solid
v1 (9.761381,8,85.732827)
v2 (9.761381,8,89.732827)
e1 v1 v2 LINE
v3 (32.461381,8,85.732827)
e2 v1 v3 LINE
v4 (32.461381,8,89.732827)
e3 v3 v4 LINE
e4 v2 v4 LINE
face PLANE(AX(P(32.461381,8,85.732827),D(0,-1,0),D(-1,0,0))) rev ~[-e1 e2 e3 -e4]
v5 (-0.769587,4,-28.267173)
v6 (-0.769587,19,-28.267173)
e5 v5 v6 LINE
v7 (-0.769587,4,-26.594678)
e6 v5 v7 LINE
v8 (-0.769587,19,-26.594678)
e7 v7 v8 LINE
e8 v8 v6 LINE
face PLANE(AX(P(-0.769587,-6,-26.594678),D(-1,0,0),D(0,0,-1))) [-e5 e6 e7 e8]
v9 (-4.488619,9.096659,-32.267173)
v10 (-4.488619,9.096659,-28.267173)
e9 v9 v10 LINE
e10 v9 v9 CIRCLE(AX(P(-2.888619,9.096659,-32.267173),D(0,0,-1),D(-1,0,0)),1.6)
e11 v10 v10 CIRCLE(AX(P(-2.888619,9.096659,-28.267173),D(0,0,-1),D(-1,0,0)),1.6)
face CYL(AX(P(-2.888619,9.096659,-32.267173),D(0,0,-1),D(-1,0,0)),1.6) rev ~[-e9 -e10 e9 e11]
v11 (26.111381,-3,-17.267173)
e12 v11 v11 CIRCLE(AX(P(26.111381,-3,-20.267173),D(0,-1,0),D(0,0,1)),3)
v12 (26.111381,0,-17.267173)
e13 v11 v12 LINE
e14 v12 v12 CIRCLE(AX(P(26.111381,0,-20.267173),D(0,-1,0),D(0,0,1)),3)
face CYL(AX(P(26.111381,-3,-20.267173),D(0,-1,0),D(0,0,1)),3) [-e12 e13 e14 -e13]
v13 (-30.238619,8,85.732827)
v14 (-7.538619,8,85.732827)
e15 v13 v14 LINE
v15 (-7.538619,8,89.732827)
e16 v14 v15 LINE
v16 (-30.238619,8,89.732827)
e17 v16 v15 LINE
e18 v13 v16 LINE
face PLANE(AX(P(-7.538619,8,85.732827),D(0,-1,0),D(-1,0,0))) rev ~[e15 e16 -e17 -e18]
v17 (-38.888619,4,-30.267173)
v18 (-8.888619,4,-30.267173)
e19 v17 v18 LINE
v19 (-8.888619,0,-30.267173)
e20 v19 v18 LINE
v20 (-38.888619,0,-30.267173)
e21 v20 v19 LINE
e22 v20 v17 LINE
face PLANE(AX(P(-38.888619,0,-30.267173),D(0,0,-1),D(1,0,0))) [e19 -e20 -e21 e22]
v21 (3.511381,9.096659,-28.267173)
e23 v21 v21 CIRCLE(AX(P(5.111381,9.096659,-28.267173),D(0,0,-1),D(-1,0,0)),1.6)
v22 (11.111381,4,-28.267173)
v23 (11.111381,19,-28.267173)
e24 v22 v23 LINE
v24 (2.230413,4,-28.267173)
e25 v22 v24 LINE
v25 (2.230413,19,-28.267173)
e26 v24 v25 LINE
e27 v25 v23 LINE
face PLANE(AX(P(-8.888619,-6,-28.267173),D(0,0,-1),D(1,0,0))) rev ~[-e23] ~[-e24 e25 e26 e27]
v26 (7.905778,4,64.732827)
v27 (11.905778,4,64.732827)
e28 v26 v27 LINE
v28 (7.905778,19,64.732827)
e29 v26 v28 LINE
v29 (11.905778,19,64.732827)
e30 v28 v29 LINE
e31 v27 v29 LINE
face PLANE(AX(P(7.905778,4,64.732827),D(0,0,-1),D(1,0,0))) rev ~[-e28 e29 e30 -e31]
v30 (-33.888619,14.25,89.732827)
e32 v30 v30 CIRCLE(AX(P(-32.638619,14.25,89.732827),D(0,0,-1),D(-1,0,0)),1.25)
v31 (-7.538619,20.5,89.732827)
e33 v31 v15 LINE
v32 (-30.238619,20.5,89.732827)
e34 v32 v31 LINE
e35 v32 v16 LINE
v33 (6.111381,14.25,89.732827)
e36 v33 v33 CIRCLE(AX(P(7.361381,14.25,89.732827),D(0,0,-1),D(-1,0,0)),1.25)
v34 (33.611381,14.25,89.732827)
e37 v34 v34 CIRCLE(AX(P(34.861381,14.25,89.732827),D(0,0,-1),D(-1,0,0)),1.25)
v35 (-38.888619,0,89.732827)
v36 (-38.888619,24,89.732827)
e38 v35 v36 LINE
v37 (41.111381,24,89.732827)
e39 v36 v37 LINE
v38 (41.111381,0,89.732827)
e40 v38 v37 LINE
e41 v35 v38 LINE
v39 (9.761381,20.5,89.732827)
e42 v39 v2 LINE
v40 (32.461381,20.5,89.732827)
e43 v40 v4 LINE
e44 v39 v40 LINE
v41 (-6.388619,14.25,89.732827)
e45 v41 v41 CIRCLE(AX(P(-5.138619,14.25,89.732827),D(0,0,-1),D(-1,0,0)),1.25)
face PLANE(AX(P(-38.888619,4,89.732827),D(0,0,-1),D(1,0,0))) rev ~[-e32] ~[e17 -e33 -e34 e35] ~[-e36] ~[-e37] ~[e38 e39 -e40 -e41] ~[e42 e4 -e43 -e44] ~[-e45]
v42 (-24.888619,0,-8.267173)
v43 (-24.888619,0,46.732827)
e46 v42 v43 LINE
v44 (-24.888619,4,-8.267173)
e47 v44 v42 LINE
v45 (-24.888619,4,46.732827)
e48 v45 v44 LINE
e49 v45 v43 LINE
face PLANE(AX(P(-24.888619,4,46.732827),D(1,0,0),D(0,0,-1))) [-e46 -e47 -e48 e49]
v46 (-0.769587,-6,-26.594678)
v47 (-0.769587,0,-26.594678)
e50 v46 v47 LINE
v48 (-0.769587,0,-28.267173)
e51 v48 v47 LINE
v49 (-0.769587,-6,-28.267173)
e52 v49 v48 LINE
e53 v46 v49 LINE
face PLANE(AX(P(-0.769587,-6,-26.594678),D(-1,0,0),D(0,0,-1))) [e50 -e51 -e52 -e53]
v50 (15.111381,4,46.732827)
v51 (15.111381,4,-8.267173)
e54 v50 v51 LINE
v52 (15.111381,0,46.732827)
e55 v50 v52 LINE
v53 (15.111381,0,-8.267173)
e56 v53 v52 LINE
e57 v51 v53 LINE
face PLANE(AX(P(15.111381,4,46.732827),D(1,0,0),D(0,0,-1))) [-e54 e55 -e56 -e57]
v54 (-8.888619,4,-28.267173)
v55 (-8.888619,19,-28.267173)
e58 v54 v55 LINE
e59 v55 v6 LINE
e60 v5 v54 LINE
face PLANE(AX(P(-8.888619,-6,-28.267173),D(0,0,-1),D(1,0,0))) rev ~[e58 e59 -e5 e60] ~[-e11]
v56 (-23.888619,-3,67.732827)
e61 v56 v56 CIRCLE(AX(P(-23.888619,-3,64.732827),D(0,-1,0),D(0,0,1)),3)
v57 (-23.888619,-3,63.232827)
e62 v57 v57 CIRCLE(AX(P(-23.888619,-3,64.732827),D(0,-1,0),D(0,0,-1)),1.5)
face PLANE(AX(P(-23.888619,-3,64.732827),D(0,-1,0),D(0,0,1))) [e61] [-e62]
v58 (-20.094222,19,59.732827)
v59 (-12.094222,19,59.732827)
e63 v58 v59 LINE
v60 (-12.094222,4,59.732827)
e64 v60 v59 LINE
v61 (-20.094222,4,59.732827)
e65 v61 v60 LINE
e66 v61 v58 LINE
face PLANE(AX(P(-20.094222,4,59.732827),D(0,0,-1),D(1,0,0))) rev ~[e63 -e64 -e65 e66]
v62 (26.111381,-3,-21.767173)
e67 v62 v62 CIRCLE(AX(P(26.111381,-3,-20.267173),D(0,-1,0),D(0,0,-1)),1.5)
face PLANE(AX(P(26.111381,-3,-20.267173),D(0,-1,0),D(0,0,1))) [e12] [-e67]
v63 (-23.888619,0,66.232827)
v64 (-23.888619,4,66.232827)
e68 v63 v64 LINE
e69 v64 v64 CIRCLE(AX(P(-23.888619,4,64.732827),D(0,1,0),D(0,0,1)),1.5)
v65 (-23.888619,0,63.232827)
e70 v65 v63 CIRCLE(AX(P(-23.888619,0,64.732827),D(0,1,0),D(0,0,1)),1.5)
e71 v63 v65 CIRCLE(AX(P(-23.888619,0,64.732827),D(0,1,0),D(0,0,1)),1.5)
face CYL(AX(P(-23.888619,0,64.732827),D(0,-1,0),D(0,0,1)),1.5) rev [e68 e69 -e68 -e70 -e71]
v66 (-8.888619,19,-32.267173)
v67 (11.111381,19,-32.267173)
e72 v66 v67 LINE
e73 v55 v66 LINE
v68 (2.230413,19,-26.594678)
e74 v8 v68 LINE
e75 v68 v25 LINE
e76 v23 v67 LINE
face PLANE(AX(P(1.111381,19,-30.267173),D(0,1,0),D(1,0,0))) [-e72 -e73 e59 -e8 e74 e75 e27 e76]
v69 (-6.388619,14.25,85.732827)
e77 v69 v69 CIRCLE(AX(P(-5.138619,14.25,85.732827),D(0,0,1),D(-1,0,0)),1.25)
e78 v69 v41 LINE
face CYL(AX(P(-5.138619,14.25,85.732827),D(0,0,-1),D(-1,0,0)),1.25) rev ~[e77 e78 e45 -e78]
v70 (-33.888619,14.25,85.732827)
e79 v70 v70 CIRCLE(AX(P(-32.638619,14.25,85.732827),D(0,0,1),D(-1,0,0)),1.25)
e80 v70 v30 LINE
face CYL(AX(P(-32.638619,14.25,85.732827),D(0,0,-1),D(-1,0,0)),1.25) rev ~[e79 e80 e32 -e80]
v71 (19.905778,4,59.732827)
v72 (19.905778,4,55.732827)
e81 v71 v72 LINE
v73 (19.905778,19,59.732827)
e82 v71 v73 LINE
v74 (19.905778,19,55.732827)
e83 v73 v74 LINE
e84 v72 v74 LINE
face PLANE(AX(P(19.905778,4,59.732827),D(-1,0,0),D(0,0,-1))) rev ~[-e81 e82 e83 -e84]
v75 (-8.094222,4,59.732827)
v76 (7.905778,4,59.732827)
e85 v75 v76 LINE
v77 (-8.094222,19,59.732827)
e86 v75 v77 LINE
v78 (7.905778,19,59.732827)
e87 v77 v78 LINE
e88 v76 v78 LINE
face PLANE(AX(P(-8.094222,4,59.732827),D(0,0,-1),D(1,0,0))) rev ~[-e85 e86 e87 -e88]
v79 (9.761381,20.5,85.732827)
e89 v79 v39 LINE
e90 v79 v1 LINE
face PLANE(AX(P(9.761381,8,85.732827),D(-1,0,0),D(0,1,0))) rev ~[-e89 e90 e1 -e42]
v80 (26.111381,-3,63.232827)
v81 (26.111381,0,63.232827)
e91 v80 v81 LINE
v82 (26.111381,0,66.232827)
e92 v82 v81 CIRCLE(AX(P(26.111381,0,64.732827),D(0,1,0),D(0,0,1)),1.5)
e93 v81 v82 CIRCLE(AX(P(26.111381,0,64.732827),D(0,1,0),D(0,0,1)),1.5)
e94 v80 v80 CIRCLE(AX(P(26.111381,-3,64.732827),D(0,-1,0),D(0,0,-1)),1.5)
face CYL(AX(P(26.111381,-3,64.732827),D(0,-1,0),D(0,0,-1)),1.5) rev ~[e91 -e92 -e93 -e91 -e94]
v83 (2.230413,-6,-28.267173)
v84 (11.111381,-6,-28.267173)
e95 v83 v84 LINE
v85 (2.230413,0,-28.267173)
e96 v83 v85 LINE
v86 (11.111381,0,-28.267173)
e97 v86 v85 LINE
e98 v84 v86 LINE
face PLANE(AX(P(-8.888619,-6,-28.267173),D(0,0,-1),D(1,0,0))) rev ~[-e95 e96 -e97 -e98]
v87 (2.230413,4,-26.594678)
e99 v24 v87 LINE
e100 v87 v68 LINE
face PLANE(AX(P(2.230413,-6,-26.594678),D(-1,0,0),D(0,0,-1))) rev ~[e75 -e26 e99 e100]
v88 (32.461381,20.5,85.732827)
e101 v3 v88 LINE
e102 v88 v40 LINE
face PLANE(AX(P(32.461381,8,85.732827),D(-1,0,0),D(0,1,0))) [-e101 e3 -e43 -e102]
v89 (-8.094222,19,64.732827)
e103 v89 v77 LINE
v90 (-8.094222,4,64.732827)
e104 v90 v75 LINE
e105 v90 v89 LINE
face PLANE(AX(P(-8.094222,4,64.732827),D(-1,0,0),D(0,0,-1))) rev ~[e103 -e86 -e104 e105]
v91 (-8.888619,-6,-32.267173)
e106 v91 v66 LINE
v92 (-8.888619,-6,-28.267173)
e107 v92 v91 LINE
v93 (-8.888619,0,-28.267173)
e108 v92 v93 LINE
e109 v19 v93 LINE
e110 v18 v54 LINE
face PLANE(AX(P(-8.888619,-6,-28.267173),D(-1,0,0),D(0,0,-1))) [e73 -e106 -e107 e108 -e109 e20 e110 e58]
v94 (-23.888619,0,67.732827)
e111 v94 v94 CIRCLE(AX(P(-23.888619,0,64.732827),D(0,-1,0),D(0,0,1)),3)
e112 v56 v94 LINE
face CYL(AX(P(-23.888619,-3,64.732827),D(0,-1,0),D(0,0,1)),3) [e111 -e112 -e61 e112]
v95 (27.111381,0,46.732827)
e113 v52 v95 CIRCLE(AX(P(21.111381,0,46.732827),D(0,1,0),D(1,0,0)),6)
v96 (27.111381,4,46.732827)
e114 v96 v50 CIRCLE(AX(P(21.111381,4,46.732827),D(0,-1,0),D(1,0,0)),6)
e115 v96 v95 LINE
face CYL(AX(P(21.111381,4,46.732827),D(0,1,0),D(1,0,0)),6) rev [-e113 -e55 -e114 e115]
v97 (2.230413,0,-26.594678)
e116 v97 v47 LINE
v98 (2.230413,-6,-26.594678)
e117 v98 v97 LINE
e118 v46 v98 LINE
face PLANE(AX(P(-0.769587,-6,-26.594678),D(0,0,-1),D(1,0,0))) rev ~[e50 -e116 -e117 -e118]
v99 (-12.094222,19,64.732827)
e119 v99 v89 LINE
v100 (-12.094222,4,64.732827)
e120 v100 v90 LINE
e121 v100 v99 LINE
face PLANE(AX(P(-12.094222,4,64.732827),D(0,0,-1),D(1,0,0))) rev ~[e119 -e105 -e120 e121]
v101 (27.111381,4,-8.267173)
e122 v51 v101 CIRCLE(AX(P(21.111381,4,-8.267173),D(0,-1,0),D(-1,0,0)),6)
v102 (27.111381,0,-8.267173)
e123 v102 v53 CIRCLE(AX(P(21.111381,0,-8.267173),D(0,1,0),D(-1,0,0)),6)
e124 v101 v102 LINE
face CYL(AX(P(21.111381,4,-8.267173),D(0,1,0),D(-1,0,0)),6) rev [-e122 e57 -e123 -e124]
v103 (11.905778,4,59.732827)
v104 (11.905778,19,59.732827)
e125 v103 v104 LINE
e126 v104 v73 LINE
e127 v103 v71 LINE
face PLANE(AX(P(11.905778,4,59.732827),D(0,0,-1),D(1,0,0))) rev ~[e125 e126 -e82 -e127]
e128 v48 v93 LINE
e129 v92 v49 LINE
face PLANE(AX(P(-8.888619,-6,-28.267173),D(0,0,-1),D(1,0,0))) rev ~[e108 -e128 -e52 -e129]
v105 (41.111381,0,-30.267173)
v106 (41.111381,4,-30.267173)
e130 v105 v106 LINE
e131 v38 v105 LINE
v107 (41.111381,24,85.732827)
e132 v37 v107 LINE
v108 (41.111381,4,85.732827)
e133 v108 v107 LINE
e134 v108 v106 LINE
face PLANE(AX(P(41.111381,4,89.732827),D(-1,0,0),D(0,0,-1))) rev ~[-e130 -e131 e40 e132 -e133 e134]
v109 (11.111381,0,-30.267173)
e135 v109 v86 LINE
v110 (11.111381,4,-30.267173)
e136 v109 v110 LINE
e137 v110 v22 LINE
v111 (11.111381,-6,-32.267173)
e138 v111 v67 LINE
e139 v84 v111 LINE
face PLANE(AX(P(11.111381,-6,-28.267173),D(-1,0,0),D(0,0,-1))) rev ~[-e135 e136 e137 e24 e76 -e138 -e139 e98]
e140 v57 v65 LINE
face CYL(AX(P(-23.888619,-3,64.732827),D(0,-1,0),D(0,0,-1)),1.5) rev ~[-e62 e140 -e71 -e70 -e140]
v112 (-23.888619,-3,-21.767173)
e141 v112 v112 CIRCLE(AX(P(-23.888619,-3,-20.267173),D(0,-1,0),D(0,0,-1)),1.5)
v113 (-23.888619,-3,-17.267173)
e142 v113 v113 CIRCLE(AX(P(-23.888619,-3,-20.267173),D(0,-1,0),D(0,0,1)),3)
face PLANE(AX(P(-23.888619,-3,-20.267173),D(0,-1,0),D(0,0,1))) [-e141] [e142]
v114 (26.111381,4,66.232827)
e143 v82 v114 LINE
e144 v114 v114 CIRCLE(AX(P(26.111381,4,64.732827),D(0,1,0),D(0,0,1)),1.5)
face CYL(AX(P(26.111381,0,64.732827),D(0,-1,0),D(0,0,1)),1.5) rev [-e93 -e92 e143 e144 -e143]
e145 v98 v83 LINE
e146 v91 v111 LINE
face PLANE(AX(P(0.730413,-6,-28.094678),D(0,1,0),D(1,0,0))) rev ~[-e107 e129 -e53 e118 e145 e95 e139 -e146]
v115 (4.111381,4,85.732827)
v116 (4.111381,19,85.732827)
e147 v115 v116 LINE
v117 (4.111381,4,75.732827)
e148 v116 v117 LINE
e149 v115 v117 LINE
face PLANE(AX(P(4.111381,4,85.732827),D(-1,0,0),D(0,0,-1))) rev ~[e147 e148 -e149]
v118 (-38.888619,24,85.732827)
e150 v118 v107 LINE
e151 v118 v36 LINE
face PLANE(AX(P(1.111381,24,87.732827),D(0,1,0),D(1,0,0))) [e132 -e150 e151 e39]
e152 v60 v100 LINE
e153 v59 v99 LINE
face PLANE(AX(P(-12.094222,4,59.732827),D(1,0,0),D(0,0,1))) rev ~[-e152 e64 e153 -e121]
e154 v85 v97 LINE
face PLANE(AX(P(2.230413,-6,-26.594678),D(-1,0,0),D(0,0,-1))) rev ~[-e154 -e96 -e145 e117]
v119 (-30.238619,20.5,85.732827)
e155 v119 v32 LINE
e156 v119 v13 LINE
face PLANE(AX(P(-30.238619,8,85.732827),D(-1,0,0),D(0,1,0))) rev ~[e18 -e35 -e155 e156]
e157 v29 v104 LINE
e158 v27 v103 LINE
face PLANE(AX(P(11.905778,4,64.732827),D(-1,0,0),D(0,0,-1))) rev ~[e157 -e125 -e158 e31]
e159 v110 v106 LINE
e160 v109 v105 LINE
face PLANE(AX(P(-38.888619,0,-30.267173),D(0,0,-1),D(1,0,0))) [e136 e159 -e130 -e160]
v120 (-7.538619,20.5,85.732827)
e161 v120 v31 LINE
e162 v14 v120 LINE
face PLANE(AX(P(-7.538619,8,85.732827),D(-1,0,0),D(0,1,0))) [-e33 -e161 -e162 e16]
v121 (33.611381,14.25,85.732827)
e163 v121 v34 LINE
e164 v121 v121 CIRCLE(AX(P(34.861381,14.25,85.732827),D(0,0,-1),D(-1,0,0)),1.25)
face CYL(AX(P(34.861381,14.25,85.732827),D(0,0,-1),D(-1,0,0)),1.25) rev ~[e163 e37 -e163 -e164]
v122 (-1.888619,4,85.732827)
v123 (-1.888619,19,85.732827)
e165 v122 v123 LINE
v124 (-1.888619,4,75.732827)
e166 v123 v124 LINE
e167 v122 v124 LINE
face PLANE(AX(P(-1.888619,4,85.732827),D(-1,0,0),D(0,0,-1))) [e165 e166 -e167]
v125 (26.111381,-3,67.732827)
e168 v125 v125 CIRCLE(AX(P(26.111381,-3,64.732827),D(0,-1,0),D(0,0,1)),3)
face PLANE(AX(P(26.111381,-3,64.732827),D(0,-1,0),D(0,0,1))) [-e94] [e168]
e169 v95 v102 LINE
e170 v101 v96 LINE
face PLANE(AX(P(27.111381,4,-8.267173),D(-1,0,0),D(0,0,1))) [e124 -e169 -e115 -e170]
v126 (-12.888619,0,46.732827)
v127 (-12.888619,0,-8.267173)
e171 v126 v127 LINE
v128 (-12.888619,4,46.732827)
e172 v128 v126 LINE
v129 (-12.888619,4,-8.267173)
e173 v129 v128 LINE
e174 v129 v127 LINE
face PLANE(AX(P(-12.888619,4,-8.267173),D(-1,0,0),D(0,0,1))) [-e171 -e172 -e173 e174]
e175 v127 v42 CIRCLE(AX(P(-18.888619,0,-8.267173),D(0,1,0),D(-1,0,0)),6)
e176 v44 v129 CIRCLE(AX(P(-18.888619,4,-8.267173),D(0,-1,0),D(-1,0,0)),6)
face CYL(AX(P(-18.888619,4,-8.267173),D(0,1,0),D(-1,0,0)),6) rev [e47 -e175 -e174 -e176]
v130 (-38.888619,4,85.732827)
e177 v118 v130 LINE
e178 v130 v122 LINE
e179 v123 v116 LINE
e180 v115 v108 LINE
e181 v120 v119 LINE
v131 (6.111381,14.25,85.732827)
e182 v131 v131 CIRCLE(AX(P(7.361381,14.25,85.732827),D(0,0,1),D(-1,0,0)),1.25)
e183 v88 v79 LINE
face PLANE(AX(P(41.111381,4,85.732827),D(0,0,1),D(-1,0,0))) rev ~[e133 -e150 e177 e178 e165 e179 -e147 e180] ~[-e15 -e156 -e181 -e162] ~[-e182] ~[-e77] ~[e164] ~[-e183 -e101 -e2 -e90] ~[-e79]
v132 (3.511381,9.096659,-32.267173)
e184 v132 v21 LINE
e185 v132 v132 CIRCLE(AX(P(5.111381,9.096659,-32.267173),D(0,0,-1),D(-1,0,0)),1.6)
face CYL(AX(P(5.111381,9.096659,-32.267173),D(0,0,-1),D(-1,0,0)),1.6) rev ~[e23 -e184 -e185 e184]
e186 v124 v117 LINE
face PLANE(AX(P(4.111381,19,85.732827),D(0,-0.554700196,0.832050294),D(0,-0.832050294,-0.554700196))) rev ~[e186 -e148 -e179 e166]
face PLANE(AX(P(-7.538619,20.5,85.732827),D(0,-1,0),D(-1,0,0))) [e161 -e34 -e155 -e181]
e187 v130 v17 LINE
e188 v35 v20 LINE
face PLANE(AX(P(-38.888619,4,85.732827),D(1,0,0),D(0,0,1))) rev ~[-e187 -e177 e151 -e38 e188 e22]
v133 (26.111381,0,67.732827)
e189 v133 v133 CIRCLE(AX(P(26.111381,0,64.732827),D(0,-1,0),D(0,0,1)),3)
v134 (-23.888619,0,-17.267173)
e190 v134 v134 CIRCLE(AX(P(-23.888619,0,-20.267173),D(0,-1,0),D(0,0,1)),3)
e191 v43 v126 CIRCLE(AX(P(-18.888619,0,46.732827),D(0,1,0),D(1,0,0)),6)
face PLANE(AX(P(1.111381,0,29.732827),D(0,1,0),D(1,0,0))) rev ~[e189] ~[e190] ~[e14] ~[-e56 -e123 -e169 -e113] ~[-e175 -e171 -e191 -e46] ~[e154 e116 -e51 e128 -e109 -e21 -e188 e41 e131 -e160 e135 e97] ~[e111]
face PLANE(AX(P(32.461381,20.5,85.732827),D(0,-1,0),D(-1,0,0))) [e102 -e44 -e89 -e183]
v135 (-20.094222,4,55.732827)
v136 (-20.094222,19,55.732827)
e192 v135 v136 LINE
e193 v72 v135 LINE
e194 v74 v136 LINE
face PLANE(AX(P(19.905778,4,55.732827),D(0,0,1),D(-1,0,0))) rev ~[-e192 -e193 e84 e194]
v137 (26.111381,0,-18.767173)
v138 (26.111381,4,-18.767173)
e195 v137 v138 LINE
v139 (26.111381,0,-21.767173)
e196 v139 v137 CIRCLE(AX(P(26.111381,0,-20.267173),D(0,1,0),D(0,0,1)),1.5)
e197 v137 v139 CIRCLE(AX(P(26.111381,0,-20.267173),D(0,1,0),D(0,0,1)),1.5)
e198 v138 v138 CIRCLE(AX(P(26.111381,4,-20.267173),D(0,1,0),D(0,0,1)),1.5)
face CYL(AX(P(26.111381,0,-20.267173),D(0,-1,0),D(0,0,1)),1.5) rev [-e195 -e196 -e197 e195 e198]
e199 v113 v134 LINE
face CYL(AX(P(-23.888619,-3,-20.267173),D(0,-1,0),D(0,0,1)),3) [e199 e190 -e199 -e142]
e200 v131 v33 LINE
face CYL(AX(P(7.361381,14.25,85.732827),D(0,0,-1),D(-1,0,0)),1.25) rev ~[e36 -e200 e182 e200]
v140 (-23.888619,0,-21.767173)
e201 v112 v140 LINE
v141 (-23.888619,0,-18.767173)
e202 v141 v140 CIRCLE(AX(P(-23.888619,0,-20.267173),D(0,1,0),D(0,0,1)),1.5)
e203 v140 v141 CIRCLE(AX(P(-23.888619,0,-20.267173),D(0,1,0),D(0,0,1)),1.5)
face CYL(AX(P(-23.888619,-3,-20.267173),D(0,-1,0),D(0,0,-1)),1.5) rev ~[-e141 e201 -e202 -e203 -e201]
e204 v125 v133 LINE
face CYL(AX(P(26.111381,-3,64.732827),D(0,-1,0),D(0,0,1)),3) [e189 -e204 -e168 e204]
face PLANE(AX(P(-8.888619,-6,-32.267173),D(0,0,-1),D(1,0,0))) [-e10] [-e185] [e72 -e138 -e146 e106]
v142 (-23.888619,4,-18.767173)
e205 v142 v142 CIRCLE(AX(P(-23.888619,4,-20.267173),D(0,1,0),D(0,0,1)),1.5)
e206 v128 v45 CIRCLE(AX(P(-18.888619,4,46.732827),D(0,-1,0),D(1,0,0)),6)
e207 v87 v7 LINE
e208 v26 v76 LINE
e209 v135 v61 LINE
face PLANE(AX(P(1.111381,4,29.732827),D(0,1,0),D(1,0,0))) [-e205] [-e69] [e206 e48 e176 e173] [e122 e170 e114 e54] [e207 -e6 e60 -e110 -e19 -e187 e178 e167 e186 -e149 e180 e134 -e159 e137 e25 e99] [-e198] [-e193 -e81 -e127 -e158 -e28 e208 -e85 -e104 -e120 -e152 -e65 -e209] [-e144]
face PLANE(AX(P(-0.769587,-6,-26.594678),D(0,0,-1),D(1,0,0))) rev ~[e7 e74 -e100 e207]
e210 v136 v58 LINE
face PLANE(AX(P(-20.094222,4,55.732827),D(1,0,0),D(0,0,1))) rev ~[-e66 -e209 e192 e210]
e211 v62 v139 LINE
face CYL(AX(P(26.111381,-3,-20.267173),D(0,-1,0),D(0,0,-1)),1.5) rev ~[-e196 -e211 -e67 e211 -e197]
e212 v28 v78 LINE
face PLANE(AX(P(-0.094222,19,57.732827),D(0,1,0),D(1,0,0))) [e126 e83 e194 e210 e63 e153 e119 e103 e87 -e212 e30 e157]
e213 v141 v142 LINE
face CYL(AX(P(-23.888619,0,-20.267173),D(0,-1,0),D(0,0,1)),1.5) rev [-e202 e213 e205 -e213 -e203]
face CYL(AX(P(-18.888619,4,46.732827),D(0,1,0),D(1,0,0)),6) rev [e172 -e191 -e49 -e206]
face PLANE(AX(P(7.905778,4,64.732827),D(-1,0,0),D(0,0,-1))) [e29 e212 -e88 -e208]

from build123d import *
from build123d.topology import SkipClean

# Parameters (mm, degrees)
SKETCH_1_W           = 80
SKETCH_1_H           = 120
SKETCH_1_R           = 1.5
EXTRUDE_2_DEPTH      = 4
SKETCH_4_W           = 4
SKETCH_4_H           = 10
EXTRUDE_4_DEPTH      = 20
EXTRUDE_5_DEPTH      = 15
EXTRUDE_5_DEPTH_BACK = 10
SKETCH_5_W           = 20
SKETCH_5_H           = 4
CUT_EXTRUDE_1_REACH  = 132.959
SKETCH_6_R           = 1.6
CUT_EXTRUDE_START    = -50
CUT_EXTRUDE_3_DEPTH  = 50
EXTRUDE_7_DEPTH      = 15
EXTRUDE_7_DEPTH_BACK = 10
SKETCH_10_W          = 3
SKETCH_10_H          = 3
SKETCH_11_W          = 4
SKETCH_11_H          = 5
EXTRUDE_9_DEPTH      = 15
CUT_EXTRUDE_5_REACH  = 102.708
CUT_EXTRUDE_6_REACH  = 129.241
SKETCH_13_R          = 1.25
SKETCH_13_W          = 22.7
SKETCH_13_H          = 12.5
CUT_EXTRUDE_7_DEPTH  = 114.370984798
SKETCH_15_W          = 6
SKETCH_15_H          = 10
EXTRUDE_10_DEPTH     = 15
CUT_EXTRUDE_8_REACH  = 104.357
EXTRUDE_START        = 3
SKETCH_17_R          = 3
SKETCH_17_R_2        = 1.5
EXTRUDE_11_DEPTH     = 3


with BuildPart() as part:
    # 草图1 → 凸台-拉伸2 (new body)
    with BuildSketch(Plane(origin=(0, 0, 0), x_dir=(1, 0, 0), z_dir=(0, 1, 0))):
        with Locations((1.11138133, -29.732826736)):
            Rectangle(SKETCH_1_W, SKETCH_1_H)
        with Locations(Location((-23.88861867, 20.267173264, 0), (0, 0, 270))):
            Circle(SKETCH_1_R, mode=Mode.SUBTRACT)
        with Locations(Location((26.11138133, 20.267173264, 0), (0, 0, 270))):
            Circle(SKETCH_1_R, mode=Mode.SUBTRACT)
        with Locations(Location((-23.88861867, -64.732826736, 0), (0, 0, 270))):
            Circle(SKETCH_1_R, mode=Mode.SUBTRACT)
        with Locations(Location((26.11138133, -64.732826736, 0), (0, 0, 270))):
            Circle(SKETCH_1_R, mode=Mode.SUBTRACT)
    extrude(amount=EXTRUDE_2_DEPTH)

    # 草图4 → 凸台-拉伸4 (add)
    with BuildSketch(Plane(origin=(0, 4, 0), x_dir=(1, 0, 0), z_dir=(0, 1, 0))):
        Polygon((-38.88861867, -85.732826736), (-38.88861867, -89.732826736), (41.11138133, -89.732826736), (41.11138133, -85.732826736), (26.11138133, -85.732826736), (22.11138133, -85.732826736), (-19.88861867, -85.732826736), (-23.88861867, -85.732826736), align=None)
        with Locations((24.11138133, -80.732826736)):
            Rectangle(SKETCH_4_W, SKETCH_4_H)
        with Locations((-21.88861867, -80.732826736)):
            Rectangle(SKETCH_4_W, SKETCH_4_H)
    extrude(amount=EXTRUDE_4_DEPTH)

    # 草图5 → 凸台-拉伸5 (add, two sides: drawn at the far end of the back side and taken through both)
    with BuildSketch(Plane(origin=(0, 4, 0), x_dir=(1, 0, 0), z_dir=(0, 1, 0)).offset(-EXTRUDE_5_DEPTH_BACK)):
        with Locations((1.11138133, 30.267173264)):
            Rectangle(SKETCH_5_W, SKETCH_5_H)
    extrude(amount=EXTRUDE_5_DEPTH + EXTRUDE_5_DEPTH_BACK)

    # 草图6 → 切除-拉伸1 (cut, up to next)
    with BuildSketch(Plane(origin=(0, 0, -32.267173264), x_dir=(-1, 0, 0), z_dir=(0, 0, -1)), mode=Mode.PRIVATE) as cut_extrude_1_sk1:
        with Locations((2.88861867, 9.096659339)):
            Circle(SKETCH_6_R)
    cut_extrude_1_tool1 = extrude(cut_extrude_1_sk1.sketch, amount=-CUT_EXTRUDE_1_REACH, mode=Mode.PRIVATE) & part.part
    # 草图6 → 切除-拉伸1 (cut, up to next)
    with BuildSketch(Plane(origin=(0, 0, -32.267173264), x_dir=(-1, 0, 0), z_dir=(0, 0, -1)), mode=Mode.PRIVATE) as cut_extrude_1_sk2:
        with Locations((-5.11138133, 9.096659339)):
            Circle(SKETCH_6_R)
    cut_extrude_1_tool2 = extrude(cut_extrude_1_sk2.sketch, amount=-CUT_EXTRUDE_1_REACH, mode=Mode.PRIVATE) & part.part
    add(cut_extrude_1_tool1.solids().sort_by_distance((-2.888619, 9.096659, -32.267173))[0], mode=Mode.SUBTRACT)
    add(cut_extrude_1_tool2.solids().sort_by_distance((5.111381, 9.096659, -32.267173))[0], mode=Mode.SUBTRACT)

    # 草图9 → 切除-拉伸3 (cut)
    with BuildSketch(Plane.ZY.offset(23.88861867).offset(CUT_EXTRUDE_START)):
        Polygon((75.732826736, 24), (75.732826736, 4), (85.732826736, 14), (85.732826736, 24), align=None)
    extrude(amount=CUT_EXTRUDE_3_DEPTH, mode=Mode.SUBTRACT)

    # 草图10 → 凸台-拉伸7 (add, two sides: drawn at the far end of the back side and taken through both)
    with BuildSketch(Plane(origin=(0, 4, 0), x_dir=(1, 0, 0), z_dir=(0, 1, 0)).offset(-EXTRUDE_7_DEPTH_BACK)):
        with Locations((0.730413479, 28.094677972)):
            Rectangle(SKETCH_10_W, SKETCH_10_H)
    extrude(amount=EXTRUDE_7_DEPTH + EXTRUDE_7_DEPTH_BACK)

    # 草图11 → 凸台-拉伸9 (add)
    with BuildSketch(Plane(origin=(0, 4, 0), x_dir=(1, 0, 0), z_dir=(0, 1, 0))):
        Polygon((19.905778303, -55.732826736), (-20.094221697, -55.732826736), (-20.094221697, -59.732826736), (-12.422102113, -59.732826736), (-12.094221697, -59.732826736), (-9.202998314, -59.732826736), (-8.094221697, -59.732826736), (7.905778303, -59.732826736), (11.905778303, -59.732826736), (19.905778303, -59.732826736), align=None)
        Polygon((-9.202998314, -59.732826736), (-12.094221697, -59.732826736), (-12.094221697, -64.732826736), (-8.094221697, -64.732826736), (-8.094221697, -59.732826736), align=None)
        with Locations((9.905778303, -62.232826736)):
            Rectangle(SKETCH_11_W, SKETCH_11_H)
    extrude(amount=EXTRUDE_9_DEPTH)

    # 草图12 → 切除-拉伸5 (cut, up to next)
    with BuildSketch(Plane(origin=(0, 4, 0), x_dir=(1, 0, 0), z_dir=(0, 1, 0)), mode=Mode.PRIVATE) as cut_extrude_5_sk1:
        with BuildLine():
            Line((27.11138133, 8.267173264), (27.11138133, -46.732826736))
            ThreePointArc((27.11138133, -46.732826736), (21.11138133, -52.732826736), (15.11138133, -46.732826736))
            Line((15.11138133, -46.732826736), (15.11138133, 8.267173264))
            ThreePointArc((15.11138133, 8.267173264), (21.11138133, 14.267173264), (27.11138133, 8.267173264))
        make_face()
    cut_extrude_5_tool1 = extrude(cut_extrude_5_sk1.sketch, amount=-CUT_EXTRUDE_5_REACH, mode=Mode.PRIVATE) & part.part
    # 草图12 → 切除-拉伸5 (cut, up to next)
    with BuildSketch(Plane(origin=(0, 4, 0), x_dir=(1, 0, 0), z_dir=(0, 1, 0)), mode=Mode.PRIVATE) as cut_extrude_5_sk2:
        with BuildLine():
            Line((-12.88861867, 8.267173264), (-12.88861867, -46.732826736))
            ThreePointArc((-12.88861867, -46.732826736), (-18.88861867, -52.732826736), (-24.88861867, -46.732826736))
            Line((-24.88861867, -46.732826736), (-24.88861867, 8.267173264))
            ThreePointArc((-24.88861867, 8.267173264), (-18.88861867, 14.267173264), (-12.88861867, 8.267173264))
        make_face()
    cut_extrude_5_tool2 = extrude(cut_extrude_5_sk2.sketch, amount=-CUT_EXTRUDE_5_REACH, mode=Mode.PRIVATE) & part.part
    add(cut_extrude_5_tool1.solids().sort_by_distance((21.111381, 4, 19.232827))[0], mode=Mode.SUBTRACT)
    add(cut_extrude_5_tool2.solids().sort_by_distance((-18.888619, 4, 19.232827))[0], mode=Mode.SUBTRACT)

    # 草图13 → 切除-拉伸6 (cut, up to next)
    with BuildSketch(Plane(origin=(0, 0, 85.732826736), x_dir=(-1, 0, 0), z_dir=(0, 0, -1)), mode=Mode.PRIVATE) as cut_extrude_6_sk1:
        with Locations((-34.86138133, 14.25)):
            Circle(SKETCH_13_R)
    cut_extrude_6_tool1 = extrude(cut_extrude_6_sk1.sketch, amount=-CUT_EXTRUDE_6_REACH, mode=Mode.PRIVATE) & part.part
    # 草图13 → 切除-拉伸6 (cut, up to next)
    with BuildSketch(Plane(origin=(0, 0, 85.732826736), x_dir=(-1, 0, 0), z_dir=(0, 0, -1)), mode=Mode.PRIVATE) as cut_extrude_6_sk2:
        with Locations((-7.36138133, 14.25)):
            Circle(SKETCH_13_R)
    cut_extrude_6_tool2 = extrude(cut_extrude_6_sk2.sketch, amount=-CUT_EXTRUDE_6_REACH, mode=Mode.PRIVATE) & part.part
    # 草图13 → 切除-拉伸6 (cut, up to next)
    with BuildSketch(Plane(origin=(0, 0, 85.732826736), x_dir=(-1, 0, 0), z_dir=(0, 0, -1)), mode=Mode.PRIVATE) as cut_extrude_6_sk3:
        with Locations((5.13861867, 14.25)):
            Circle(SKETCH_13_R)
    cut_extrude_6_tool3 = extrude(cut_extrude_6_sk3.sketch, amount=-CUT_EXTRUDE_6_REACH, mode=Mode.PRIVATE) & part.part
    # 草图13 → 切除-拉伸6 (cut, up to next)
    with BuildSketch(Plane(origin=(0, 0, 85.732826736), x_dir=(-1, 0, 0), z_dir=(0, 0, -1)), mode=Mode.PRIVATE) as cut_extrude_6_sk4:
        with Locations((32.63861867, 14.25)):
            Circle(SKETCH_13_R)
    cut_extrude_6_tool4 = extrude(cut_extrude_6_sk4.sketch, amount=-CUT_EXTRUDE_6_REACH, mode=Mode.PRIVATE) & part.part
    # 草图13 → 切除-拉伸6 (cut, up to next)
    with BuildSketch(Plane(origin=(0, 0, 85.732826736), x_dir=(-1, 0, 0), z_dir=(0, 0, -1)), mode=Mode.PRIVATE) as cut_extrude_6_sk5:
        with Locations((-21.11138133, 14.25)):
            Rectangle(SKETCH_13_W, SKETCH_13_H)
    cut_extrude_6_tool5 = extrude(cut_extrude_6_sk5.sketch, amount=-CUT_EXTRUDE_6_REACH, mode=Mode.PRIVATE) & part.part
    # 草图13 → 切除-拉伸6 (cut, up to next)
    with BuildSketch(Plane(origin=(0, 0, 85.732826736), x_dir=(-1, 0, 0), z_dir=(0, 0, -1)), mode=Mode.PRIVATE) as cut_extrude_6_sk6:
        with Locations((18.88861867, 14.25)):
            Rectangle(SKETCH_13_W, SKETCH_13_H)
    cut_extrude_6_tool6 = extrude(cut_extrude_6_sk6.sketch, amount=-CUT_EXTRUDE_6_REACH, mode=Mode.PRIVATE) & part.part
    add(cut_extrude_6_tool1.solids().sort_by_distance((34.861381, 14.25, 85.732827))[0], mode=Mode.SUBTRACT)
    add(cut_extrude_6_tool2.solids().sort_by_distance((7.361381, 14.25, 85.732827))[0], mode=Mode.SUBTRACT)
    add(cut_extrude_6_tool3.solids().sort_by_distance((-5.138619, 14.25, 85.732827))[0], mode=Mode.SUBTRACT)
    add(cut_extrude_6_tool4.solids().sort_by_distance((-32.638619, 14.25, 85.732827))[0], mode=Mode.SUBTRACT)
    add(cut_extrude_6_tool5.solids().sort_by_distance((21.111381, 14.25, 85.732827))[0], mode=Mode.SUBTRACT)
    add(cut_extrude_6_tool6.solids().sort_by_distance((-18.888619, 14.25, 85.732827))[0], mode=Mode.SUBTRACT)

    # 草图14 → 切除-拉伸7 (cut, through all)
    with BuildSketch(Plane(origin=(26.11138133, 0, 0), x_dir=(0, 0, -1), z_dir=(1, 0, 0))):
        Polygon((-85.732826736, 4), (-75.732826736, 4), (-85.732826736, 14), (-85.732826736, 8), align=None)
    extrude(amount=-CUT_EXTRUDE_7_DEPTH, mode=Mode.SUBTRACT)

    # 草图15 → 凸台-拉伸10 (add)
    with BuildSketch(Plane(origin=(0, 4, 0), x_dir=(1, 0, 0), z_dir=(0, 1, 0))):
        with Locations((1.11138133, -80.732826736)):
            Rectangle(SKETCH_15_W, SKETCH_15_H)
    extrude(amount=EXTRUDE_10_DEPTH)

    # 草图16 → 切除-拉伸8 (cut, up to next)
    with BuildSketch(Plane(origin=(4.11138133, 0, 0), x_dir=(0, 0, -1), z_dir=(1, 0, 0)), mode=Mode.PRIVATE) as cut_extrude_8_sk1:
        Polygon((-85.732826736, 19), (-75.732826736, 4), (-75.732826736, 19), align=None)
    cut_extrude_8_tool1 = extrude(cut_extrude_8_sk1.sketch, amount=-CUT_EXTRUDE_8_REACH, mode=Mode.PRIVATE) & part.part
    add(cut_extrude_8_tool1.solids().sort_by_distance((4.111381, 14, 79.06616))[0], mode=Mode.SUBTRACT)

    # 草图17 → 凸台-拉伸11 (add)
    # profile 1 of 4: a face of its own
    with SkipClean():  # the faces are left unmerged after this step: merging them gives an invalid solid
        with BuildSketch(Plane.XZ.offset(EXTRUDE_START)):
            with Locations(Location((-23.88861867, 64.732826736, 0), (0, 0, 90))):
                Circle(SKETCH_17_R)
            with Locations(Location((-23.88861867, 64.732826736, 0), (0, 0, 270))):
                Circle(SKETCH_17_R_2, mode=Mode.SUBTRACT)
        # profile 2 of 4: a face of its own
        with BuildSketch(Plane.XZ.offset(EXTRUDE_START)):
            with Locations(Location((26.11138133, 64.732826736, 0), (0, 0, 90))):
                Circle(SKETCH_17_R)
            with Locations(Location((26.11138133, 64.732826736, 0), (0, 0, 270))):
                Circle(SKETCH_17_R_2, mode=Mode.SUBTRACT)
        # profile 3 of 4: a face of its own
        with BuildSketch(Plane.XZ.offset(EXTRUDE_START)):
            with Locations(Location((26.11138133, -20.267173264, 0), (0, 0, 90))):
                Circle(SKETCH_17_R)
            with Locations(Location((26.11138133, -20.267173264, 0), (0, 0, 270))):
                Circle(SKETCH_17_R_2, mode=Mode.SUBTRACT)
        # profile 4 of 4: a face of its own
        with BuildSketch(Plane.XZ.offset(EXTRUDE_START)):
            with Locations(Location((-23.88861867, -20.267173264, 0), (0, 0, 90))):
                Circle(SKETCH_17_R)
            with Locations(Location((-23.88861867, -20.267173264, 0), (0, 0, 270))):
                Circle(SKETCH_17_R_2, mode=Mode.SUBTRACT)
        extrude(amount=-EXTRUDE_11_DEPTH)


solid = part.part
